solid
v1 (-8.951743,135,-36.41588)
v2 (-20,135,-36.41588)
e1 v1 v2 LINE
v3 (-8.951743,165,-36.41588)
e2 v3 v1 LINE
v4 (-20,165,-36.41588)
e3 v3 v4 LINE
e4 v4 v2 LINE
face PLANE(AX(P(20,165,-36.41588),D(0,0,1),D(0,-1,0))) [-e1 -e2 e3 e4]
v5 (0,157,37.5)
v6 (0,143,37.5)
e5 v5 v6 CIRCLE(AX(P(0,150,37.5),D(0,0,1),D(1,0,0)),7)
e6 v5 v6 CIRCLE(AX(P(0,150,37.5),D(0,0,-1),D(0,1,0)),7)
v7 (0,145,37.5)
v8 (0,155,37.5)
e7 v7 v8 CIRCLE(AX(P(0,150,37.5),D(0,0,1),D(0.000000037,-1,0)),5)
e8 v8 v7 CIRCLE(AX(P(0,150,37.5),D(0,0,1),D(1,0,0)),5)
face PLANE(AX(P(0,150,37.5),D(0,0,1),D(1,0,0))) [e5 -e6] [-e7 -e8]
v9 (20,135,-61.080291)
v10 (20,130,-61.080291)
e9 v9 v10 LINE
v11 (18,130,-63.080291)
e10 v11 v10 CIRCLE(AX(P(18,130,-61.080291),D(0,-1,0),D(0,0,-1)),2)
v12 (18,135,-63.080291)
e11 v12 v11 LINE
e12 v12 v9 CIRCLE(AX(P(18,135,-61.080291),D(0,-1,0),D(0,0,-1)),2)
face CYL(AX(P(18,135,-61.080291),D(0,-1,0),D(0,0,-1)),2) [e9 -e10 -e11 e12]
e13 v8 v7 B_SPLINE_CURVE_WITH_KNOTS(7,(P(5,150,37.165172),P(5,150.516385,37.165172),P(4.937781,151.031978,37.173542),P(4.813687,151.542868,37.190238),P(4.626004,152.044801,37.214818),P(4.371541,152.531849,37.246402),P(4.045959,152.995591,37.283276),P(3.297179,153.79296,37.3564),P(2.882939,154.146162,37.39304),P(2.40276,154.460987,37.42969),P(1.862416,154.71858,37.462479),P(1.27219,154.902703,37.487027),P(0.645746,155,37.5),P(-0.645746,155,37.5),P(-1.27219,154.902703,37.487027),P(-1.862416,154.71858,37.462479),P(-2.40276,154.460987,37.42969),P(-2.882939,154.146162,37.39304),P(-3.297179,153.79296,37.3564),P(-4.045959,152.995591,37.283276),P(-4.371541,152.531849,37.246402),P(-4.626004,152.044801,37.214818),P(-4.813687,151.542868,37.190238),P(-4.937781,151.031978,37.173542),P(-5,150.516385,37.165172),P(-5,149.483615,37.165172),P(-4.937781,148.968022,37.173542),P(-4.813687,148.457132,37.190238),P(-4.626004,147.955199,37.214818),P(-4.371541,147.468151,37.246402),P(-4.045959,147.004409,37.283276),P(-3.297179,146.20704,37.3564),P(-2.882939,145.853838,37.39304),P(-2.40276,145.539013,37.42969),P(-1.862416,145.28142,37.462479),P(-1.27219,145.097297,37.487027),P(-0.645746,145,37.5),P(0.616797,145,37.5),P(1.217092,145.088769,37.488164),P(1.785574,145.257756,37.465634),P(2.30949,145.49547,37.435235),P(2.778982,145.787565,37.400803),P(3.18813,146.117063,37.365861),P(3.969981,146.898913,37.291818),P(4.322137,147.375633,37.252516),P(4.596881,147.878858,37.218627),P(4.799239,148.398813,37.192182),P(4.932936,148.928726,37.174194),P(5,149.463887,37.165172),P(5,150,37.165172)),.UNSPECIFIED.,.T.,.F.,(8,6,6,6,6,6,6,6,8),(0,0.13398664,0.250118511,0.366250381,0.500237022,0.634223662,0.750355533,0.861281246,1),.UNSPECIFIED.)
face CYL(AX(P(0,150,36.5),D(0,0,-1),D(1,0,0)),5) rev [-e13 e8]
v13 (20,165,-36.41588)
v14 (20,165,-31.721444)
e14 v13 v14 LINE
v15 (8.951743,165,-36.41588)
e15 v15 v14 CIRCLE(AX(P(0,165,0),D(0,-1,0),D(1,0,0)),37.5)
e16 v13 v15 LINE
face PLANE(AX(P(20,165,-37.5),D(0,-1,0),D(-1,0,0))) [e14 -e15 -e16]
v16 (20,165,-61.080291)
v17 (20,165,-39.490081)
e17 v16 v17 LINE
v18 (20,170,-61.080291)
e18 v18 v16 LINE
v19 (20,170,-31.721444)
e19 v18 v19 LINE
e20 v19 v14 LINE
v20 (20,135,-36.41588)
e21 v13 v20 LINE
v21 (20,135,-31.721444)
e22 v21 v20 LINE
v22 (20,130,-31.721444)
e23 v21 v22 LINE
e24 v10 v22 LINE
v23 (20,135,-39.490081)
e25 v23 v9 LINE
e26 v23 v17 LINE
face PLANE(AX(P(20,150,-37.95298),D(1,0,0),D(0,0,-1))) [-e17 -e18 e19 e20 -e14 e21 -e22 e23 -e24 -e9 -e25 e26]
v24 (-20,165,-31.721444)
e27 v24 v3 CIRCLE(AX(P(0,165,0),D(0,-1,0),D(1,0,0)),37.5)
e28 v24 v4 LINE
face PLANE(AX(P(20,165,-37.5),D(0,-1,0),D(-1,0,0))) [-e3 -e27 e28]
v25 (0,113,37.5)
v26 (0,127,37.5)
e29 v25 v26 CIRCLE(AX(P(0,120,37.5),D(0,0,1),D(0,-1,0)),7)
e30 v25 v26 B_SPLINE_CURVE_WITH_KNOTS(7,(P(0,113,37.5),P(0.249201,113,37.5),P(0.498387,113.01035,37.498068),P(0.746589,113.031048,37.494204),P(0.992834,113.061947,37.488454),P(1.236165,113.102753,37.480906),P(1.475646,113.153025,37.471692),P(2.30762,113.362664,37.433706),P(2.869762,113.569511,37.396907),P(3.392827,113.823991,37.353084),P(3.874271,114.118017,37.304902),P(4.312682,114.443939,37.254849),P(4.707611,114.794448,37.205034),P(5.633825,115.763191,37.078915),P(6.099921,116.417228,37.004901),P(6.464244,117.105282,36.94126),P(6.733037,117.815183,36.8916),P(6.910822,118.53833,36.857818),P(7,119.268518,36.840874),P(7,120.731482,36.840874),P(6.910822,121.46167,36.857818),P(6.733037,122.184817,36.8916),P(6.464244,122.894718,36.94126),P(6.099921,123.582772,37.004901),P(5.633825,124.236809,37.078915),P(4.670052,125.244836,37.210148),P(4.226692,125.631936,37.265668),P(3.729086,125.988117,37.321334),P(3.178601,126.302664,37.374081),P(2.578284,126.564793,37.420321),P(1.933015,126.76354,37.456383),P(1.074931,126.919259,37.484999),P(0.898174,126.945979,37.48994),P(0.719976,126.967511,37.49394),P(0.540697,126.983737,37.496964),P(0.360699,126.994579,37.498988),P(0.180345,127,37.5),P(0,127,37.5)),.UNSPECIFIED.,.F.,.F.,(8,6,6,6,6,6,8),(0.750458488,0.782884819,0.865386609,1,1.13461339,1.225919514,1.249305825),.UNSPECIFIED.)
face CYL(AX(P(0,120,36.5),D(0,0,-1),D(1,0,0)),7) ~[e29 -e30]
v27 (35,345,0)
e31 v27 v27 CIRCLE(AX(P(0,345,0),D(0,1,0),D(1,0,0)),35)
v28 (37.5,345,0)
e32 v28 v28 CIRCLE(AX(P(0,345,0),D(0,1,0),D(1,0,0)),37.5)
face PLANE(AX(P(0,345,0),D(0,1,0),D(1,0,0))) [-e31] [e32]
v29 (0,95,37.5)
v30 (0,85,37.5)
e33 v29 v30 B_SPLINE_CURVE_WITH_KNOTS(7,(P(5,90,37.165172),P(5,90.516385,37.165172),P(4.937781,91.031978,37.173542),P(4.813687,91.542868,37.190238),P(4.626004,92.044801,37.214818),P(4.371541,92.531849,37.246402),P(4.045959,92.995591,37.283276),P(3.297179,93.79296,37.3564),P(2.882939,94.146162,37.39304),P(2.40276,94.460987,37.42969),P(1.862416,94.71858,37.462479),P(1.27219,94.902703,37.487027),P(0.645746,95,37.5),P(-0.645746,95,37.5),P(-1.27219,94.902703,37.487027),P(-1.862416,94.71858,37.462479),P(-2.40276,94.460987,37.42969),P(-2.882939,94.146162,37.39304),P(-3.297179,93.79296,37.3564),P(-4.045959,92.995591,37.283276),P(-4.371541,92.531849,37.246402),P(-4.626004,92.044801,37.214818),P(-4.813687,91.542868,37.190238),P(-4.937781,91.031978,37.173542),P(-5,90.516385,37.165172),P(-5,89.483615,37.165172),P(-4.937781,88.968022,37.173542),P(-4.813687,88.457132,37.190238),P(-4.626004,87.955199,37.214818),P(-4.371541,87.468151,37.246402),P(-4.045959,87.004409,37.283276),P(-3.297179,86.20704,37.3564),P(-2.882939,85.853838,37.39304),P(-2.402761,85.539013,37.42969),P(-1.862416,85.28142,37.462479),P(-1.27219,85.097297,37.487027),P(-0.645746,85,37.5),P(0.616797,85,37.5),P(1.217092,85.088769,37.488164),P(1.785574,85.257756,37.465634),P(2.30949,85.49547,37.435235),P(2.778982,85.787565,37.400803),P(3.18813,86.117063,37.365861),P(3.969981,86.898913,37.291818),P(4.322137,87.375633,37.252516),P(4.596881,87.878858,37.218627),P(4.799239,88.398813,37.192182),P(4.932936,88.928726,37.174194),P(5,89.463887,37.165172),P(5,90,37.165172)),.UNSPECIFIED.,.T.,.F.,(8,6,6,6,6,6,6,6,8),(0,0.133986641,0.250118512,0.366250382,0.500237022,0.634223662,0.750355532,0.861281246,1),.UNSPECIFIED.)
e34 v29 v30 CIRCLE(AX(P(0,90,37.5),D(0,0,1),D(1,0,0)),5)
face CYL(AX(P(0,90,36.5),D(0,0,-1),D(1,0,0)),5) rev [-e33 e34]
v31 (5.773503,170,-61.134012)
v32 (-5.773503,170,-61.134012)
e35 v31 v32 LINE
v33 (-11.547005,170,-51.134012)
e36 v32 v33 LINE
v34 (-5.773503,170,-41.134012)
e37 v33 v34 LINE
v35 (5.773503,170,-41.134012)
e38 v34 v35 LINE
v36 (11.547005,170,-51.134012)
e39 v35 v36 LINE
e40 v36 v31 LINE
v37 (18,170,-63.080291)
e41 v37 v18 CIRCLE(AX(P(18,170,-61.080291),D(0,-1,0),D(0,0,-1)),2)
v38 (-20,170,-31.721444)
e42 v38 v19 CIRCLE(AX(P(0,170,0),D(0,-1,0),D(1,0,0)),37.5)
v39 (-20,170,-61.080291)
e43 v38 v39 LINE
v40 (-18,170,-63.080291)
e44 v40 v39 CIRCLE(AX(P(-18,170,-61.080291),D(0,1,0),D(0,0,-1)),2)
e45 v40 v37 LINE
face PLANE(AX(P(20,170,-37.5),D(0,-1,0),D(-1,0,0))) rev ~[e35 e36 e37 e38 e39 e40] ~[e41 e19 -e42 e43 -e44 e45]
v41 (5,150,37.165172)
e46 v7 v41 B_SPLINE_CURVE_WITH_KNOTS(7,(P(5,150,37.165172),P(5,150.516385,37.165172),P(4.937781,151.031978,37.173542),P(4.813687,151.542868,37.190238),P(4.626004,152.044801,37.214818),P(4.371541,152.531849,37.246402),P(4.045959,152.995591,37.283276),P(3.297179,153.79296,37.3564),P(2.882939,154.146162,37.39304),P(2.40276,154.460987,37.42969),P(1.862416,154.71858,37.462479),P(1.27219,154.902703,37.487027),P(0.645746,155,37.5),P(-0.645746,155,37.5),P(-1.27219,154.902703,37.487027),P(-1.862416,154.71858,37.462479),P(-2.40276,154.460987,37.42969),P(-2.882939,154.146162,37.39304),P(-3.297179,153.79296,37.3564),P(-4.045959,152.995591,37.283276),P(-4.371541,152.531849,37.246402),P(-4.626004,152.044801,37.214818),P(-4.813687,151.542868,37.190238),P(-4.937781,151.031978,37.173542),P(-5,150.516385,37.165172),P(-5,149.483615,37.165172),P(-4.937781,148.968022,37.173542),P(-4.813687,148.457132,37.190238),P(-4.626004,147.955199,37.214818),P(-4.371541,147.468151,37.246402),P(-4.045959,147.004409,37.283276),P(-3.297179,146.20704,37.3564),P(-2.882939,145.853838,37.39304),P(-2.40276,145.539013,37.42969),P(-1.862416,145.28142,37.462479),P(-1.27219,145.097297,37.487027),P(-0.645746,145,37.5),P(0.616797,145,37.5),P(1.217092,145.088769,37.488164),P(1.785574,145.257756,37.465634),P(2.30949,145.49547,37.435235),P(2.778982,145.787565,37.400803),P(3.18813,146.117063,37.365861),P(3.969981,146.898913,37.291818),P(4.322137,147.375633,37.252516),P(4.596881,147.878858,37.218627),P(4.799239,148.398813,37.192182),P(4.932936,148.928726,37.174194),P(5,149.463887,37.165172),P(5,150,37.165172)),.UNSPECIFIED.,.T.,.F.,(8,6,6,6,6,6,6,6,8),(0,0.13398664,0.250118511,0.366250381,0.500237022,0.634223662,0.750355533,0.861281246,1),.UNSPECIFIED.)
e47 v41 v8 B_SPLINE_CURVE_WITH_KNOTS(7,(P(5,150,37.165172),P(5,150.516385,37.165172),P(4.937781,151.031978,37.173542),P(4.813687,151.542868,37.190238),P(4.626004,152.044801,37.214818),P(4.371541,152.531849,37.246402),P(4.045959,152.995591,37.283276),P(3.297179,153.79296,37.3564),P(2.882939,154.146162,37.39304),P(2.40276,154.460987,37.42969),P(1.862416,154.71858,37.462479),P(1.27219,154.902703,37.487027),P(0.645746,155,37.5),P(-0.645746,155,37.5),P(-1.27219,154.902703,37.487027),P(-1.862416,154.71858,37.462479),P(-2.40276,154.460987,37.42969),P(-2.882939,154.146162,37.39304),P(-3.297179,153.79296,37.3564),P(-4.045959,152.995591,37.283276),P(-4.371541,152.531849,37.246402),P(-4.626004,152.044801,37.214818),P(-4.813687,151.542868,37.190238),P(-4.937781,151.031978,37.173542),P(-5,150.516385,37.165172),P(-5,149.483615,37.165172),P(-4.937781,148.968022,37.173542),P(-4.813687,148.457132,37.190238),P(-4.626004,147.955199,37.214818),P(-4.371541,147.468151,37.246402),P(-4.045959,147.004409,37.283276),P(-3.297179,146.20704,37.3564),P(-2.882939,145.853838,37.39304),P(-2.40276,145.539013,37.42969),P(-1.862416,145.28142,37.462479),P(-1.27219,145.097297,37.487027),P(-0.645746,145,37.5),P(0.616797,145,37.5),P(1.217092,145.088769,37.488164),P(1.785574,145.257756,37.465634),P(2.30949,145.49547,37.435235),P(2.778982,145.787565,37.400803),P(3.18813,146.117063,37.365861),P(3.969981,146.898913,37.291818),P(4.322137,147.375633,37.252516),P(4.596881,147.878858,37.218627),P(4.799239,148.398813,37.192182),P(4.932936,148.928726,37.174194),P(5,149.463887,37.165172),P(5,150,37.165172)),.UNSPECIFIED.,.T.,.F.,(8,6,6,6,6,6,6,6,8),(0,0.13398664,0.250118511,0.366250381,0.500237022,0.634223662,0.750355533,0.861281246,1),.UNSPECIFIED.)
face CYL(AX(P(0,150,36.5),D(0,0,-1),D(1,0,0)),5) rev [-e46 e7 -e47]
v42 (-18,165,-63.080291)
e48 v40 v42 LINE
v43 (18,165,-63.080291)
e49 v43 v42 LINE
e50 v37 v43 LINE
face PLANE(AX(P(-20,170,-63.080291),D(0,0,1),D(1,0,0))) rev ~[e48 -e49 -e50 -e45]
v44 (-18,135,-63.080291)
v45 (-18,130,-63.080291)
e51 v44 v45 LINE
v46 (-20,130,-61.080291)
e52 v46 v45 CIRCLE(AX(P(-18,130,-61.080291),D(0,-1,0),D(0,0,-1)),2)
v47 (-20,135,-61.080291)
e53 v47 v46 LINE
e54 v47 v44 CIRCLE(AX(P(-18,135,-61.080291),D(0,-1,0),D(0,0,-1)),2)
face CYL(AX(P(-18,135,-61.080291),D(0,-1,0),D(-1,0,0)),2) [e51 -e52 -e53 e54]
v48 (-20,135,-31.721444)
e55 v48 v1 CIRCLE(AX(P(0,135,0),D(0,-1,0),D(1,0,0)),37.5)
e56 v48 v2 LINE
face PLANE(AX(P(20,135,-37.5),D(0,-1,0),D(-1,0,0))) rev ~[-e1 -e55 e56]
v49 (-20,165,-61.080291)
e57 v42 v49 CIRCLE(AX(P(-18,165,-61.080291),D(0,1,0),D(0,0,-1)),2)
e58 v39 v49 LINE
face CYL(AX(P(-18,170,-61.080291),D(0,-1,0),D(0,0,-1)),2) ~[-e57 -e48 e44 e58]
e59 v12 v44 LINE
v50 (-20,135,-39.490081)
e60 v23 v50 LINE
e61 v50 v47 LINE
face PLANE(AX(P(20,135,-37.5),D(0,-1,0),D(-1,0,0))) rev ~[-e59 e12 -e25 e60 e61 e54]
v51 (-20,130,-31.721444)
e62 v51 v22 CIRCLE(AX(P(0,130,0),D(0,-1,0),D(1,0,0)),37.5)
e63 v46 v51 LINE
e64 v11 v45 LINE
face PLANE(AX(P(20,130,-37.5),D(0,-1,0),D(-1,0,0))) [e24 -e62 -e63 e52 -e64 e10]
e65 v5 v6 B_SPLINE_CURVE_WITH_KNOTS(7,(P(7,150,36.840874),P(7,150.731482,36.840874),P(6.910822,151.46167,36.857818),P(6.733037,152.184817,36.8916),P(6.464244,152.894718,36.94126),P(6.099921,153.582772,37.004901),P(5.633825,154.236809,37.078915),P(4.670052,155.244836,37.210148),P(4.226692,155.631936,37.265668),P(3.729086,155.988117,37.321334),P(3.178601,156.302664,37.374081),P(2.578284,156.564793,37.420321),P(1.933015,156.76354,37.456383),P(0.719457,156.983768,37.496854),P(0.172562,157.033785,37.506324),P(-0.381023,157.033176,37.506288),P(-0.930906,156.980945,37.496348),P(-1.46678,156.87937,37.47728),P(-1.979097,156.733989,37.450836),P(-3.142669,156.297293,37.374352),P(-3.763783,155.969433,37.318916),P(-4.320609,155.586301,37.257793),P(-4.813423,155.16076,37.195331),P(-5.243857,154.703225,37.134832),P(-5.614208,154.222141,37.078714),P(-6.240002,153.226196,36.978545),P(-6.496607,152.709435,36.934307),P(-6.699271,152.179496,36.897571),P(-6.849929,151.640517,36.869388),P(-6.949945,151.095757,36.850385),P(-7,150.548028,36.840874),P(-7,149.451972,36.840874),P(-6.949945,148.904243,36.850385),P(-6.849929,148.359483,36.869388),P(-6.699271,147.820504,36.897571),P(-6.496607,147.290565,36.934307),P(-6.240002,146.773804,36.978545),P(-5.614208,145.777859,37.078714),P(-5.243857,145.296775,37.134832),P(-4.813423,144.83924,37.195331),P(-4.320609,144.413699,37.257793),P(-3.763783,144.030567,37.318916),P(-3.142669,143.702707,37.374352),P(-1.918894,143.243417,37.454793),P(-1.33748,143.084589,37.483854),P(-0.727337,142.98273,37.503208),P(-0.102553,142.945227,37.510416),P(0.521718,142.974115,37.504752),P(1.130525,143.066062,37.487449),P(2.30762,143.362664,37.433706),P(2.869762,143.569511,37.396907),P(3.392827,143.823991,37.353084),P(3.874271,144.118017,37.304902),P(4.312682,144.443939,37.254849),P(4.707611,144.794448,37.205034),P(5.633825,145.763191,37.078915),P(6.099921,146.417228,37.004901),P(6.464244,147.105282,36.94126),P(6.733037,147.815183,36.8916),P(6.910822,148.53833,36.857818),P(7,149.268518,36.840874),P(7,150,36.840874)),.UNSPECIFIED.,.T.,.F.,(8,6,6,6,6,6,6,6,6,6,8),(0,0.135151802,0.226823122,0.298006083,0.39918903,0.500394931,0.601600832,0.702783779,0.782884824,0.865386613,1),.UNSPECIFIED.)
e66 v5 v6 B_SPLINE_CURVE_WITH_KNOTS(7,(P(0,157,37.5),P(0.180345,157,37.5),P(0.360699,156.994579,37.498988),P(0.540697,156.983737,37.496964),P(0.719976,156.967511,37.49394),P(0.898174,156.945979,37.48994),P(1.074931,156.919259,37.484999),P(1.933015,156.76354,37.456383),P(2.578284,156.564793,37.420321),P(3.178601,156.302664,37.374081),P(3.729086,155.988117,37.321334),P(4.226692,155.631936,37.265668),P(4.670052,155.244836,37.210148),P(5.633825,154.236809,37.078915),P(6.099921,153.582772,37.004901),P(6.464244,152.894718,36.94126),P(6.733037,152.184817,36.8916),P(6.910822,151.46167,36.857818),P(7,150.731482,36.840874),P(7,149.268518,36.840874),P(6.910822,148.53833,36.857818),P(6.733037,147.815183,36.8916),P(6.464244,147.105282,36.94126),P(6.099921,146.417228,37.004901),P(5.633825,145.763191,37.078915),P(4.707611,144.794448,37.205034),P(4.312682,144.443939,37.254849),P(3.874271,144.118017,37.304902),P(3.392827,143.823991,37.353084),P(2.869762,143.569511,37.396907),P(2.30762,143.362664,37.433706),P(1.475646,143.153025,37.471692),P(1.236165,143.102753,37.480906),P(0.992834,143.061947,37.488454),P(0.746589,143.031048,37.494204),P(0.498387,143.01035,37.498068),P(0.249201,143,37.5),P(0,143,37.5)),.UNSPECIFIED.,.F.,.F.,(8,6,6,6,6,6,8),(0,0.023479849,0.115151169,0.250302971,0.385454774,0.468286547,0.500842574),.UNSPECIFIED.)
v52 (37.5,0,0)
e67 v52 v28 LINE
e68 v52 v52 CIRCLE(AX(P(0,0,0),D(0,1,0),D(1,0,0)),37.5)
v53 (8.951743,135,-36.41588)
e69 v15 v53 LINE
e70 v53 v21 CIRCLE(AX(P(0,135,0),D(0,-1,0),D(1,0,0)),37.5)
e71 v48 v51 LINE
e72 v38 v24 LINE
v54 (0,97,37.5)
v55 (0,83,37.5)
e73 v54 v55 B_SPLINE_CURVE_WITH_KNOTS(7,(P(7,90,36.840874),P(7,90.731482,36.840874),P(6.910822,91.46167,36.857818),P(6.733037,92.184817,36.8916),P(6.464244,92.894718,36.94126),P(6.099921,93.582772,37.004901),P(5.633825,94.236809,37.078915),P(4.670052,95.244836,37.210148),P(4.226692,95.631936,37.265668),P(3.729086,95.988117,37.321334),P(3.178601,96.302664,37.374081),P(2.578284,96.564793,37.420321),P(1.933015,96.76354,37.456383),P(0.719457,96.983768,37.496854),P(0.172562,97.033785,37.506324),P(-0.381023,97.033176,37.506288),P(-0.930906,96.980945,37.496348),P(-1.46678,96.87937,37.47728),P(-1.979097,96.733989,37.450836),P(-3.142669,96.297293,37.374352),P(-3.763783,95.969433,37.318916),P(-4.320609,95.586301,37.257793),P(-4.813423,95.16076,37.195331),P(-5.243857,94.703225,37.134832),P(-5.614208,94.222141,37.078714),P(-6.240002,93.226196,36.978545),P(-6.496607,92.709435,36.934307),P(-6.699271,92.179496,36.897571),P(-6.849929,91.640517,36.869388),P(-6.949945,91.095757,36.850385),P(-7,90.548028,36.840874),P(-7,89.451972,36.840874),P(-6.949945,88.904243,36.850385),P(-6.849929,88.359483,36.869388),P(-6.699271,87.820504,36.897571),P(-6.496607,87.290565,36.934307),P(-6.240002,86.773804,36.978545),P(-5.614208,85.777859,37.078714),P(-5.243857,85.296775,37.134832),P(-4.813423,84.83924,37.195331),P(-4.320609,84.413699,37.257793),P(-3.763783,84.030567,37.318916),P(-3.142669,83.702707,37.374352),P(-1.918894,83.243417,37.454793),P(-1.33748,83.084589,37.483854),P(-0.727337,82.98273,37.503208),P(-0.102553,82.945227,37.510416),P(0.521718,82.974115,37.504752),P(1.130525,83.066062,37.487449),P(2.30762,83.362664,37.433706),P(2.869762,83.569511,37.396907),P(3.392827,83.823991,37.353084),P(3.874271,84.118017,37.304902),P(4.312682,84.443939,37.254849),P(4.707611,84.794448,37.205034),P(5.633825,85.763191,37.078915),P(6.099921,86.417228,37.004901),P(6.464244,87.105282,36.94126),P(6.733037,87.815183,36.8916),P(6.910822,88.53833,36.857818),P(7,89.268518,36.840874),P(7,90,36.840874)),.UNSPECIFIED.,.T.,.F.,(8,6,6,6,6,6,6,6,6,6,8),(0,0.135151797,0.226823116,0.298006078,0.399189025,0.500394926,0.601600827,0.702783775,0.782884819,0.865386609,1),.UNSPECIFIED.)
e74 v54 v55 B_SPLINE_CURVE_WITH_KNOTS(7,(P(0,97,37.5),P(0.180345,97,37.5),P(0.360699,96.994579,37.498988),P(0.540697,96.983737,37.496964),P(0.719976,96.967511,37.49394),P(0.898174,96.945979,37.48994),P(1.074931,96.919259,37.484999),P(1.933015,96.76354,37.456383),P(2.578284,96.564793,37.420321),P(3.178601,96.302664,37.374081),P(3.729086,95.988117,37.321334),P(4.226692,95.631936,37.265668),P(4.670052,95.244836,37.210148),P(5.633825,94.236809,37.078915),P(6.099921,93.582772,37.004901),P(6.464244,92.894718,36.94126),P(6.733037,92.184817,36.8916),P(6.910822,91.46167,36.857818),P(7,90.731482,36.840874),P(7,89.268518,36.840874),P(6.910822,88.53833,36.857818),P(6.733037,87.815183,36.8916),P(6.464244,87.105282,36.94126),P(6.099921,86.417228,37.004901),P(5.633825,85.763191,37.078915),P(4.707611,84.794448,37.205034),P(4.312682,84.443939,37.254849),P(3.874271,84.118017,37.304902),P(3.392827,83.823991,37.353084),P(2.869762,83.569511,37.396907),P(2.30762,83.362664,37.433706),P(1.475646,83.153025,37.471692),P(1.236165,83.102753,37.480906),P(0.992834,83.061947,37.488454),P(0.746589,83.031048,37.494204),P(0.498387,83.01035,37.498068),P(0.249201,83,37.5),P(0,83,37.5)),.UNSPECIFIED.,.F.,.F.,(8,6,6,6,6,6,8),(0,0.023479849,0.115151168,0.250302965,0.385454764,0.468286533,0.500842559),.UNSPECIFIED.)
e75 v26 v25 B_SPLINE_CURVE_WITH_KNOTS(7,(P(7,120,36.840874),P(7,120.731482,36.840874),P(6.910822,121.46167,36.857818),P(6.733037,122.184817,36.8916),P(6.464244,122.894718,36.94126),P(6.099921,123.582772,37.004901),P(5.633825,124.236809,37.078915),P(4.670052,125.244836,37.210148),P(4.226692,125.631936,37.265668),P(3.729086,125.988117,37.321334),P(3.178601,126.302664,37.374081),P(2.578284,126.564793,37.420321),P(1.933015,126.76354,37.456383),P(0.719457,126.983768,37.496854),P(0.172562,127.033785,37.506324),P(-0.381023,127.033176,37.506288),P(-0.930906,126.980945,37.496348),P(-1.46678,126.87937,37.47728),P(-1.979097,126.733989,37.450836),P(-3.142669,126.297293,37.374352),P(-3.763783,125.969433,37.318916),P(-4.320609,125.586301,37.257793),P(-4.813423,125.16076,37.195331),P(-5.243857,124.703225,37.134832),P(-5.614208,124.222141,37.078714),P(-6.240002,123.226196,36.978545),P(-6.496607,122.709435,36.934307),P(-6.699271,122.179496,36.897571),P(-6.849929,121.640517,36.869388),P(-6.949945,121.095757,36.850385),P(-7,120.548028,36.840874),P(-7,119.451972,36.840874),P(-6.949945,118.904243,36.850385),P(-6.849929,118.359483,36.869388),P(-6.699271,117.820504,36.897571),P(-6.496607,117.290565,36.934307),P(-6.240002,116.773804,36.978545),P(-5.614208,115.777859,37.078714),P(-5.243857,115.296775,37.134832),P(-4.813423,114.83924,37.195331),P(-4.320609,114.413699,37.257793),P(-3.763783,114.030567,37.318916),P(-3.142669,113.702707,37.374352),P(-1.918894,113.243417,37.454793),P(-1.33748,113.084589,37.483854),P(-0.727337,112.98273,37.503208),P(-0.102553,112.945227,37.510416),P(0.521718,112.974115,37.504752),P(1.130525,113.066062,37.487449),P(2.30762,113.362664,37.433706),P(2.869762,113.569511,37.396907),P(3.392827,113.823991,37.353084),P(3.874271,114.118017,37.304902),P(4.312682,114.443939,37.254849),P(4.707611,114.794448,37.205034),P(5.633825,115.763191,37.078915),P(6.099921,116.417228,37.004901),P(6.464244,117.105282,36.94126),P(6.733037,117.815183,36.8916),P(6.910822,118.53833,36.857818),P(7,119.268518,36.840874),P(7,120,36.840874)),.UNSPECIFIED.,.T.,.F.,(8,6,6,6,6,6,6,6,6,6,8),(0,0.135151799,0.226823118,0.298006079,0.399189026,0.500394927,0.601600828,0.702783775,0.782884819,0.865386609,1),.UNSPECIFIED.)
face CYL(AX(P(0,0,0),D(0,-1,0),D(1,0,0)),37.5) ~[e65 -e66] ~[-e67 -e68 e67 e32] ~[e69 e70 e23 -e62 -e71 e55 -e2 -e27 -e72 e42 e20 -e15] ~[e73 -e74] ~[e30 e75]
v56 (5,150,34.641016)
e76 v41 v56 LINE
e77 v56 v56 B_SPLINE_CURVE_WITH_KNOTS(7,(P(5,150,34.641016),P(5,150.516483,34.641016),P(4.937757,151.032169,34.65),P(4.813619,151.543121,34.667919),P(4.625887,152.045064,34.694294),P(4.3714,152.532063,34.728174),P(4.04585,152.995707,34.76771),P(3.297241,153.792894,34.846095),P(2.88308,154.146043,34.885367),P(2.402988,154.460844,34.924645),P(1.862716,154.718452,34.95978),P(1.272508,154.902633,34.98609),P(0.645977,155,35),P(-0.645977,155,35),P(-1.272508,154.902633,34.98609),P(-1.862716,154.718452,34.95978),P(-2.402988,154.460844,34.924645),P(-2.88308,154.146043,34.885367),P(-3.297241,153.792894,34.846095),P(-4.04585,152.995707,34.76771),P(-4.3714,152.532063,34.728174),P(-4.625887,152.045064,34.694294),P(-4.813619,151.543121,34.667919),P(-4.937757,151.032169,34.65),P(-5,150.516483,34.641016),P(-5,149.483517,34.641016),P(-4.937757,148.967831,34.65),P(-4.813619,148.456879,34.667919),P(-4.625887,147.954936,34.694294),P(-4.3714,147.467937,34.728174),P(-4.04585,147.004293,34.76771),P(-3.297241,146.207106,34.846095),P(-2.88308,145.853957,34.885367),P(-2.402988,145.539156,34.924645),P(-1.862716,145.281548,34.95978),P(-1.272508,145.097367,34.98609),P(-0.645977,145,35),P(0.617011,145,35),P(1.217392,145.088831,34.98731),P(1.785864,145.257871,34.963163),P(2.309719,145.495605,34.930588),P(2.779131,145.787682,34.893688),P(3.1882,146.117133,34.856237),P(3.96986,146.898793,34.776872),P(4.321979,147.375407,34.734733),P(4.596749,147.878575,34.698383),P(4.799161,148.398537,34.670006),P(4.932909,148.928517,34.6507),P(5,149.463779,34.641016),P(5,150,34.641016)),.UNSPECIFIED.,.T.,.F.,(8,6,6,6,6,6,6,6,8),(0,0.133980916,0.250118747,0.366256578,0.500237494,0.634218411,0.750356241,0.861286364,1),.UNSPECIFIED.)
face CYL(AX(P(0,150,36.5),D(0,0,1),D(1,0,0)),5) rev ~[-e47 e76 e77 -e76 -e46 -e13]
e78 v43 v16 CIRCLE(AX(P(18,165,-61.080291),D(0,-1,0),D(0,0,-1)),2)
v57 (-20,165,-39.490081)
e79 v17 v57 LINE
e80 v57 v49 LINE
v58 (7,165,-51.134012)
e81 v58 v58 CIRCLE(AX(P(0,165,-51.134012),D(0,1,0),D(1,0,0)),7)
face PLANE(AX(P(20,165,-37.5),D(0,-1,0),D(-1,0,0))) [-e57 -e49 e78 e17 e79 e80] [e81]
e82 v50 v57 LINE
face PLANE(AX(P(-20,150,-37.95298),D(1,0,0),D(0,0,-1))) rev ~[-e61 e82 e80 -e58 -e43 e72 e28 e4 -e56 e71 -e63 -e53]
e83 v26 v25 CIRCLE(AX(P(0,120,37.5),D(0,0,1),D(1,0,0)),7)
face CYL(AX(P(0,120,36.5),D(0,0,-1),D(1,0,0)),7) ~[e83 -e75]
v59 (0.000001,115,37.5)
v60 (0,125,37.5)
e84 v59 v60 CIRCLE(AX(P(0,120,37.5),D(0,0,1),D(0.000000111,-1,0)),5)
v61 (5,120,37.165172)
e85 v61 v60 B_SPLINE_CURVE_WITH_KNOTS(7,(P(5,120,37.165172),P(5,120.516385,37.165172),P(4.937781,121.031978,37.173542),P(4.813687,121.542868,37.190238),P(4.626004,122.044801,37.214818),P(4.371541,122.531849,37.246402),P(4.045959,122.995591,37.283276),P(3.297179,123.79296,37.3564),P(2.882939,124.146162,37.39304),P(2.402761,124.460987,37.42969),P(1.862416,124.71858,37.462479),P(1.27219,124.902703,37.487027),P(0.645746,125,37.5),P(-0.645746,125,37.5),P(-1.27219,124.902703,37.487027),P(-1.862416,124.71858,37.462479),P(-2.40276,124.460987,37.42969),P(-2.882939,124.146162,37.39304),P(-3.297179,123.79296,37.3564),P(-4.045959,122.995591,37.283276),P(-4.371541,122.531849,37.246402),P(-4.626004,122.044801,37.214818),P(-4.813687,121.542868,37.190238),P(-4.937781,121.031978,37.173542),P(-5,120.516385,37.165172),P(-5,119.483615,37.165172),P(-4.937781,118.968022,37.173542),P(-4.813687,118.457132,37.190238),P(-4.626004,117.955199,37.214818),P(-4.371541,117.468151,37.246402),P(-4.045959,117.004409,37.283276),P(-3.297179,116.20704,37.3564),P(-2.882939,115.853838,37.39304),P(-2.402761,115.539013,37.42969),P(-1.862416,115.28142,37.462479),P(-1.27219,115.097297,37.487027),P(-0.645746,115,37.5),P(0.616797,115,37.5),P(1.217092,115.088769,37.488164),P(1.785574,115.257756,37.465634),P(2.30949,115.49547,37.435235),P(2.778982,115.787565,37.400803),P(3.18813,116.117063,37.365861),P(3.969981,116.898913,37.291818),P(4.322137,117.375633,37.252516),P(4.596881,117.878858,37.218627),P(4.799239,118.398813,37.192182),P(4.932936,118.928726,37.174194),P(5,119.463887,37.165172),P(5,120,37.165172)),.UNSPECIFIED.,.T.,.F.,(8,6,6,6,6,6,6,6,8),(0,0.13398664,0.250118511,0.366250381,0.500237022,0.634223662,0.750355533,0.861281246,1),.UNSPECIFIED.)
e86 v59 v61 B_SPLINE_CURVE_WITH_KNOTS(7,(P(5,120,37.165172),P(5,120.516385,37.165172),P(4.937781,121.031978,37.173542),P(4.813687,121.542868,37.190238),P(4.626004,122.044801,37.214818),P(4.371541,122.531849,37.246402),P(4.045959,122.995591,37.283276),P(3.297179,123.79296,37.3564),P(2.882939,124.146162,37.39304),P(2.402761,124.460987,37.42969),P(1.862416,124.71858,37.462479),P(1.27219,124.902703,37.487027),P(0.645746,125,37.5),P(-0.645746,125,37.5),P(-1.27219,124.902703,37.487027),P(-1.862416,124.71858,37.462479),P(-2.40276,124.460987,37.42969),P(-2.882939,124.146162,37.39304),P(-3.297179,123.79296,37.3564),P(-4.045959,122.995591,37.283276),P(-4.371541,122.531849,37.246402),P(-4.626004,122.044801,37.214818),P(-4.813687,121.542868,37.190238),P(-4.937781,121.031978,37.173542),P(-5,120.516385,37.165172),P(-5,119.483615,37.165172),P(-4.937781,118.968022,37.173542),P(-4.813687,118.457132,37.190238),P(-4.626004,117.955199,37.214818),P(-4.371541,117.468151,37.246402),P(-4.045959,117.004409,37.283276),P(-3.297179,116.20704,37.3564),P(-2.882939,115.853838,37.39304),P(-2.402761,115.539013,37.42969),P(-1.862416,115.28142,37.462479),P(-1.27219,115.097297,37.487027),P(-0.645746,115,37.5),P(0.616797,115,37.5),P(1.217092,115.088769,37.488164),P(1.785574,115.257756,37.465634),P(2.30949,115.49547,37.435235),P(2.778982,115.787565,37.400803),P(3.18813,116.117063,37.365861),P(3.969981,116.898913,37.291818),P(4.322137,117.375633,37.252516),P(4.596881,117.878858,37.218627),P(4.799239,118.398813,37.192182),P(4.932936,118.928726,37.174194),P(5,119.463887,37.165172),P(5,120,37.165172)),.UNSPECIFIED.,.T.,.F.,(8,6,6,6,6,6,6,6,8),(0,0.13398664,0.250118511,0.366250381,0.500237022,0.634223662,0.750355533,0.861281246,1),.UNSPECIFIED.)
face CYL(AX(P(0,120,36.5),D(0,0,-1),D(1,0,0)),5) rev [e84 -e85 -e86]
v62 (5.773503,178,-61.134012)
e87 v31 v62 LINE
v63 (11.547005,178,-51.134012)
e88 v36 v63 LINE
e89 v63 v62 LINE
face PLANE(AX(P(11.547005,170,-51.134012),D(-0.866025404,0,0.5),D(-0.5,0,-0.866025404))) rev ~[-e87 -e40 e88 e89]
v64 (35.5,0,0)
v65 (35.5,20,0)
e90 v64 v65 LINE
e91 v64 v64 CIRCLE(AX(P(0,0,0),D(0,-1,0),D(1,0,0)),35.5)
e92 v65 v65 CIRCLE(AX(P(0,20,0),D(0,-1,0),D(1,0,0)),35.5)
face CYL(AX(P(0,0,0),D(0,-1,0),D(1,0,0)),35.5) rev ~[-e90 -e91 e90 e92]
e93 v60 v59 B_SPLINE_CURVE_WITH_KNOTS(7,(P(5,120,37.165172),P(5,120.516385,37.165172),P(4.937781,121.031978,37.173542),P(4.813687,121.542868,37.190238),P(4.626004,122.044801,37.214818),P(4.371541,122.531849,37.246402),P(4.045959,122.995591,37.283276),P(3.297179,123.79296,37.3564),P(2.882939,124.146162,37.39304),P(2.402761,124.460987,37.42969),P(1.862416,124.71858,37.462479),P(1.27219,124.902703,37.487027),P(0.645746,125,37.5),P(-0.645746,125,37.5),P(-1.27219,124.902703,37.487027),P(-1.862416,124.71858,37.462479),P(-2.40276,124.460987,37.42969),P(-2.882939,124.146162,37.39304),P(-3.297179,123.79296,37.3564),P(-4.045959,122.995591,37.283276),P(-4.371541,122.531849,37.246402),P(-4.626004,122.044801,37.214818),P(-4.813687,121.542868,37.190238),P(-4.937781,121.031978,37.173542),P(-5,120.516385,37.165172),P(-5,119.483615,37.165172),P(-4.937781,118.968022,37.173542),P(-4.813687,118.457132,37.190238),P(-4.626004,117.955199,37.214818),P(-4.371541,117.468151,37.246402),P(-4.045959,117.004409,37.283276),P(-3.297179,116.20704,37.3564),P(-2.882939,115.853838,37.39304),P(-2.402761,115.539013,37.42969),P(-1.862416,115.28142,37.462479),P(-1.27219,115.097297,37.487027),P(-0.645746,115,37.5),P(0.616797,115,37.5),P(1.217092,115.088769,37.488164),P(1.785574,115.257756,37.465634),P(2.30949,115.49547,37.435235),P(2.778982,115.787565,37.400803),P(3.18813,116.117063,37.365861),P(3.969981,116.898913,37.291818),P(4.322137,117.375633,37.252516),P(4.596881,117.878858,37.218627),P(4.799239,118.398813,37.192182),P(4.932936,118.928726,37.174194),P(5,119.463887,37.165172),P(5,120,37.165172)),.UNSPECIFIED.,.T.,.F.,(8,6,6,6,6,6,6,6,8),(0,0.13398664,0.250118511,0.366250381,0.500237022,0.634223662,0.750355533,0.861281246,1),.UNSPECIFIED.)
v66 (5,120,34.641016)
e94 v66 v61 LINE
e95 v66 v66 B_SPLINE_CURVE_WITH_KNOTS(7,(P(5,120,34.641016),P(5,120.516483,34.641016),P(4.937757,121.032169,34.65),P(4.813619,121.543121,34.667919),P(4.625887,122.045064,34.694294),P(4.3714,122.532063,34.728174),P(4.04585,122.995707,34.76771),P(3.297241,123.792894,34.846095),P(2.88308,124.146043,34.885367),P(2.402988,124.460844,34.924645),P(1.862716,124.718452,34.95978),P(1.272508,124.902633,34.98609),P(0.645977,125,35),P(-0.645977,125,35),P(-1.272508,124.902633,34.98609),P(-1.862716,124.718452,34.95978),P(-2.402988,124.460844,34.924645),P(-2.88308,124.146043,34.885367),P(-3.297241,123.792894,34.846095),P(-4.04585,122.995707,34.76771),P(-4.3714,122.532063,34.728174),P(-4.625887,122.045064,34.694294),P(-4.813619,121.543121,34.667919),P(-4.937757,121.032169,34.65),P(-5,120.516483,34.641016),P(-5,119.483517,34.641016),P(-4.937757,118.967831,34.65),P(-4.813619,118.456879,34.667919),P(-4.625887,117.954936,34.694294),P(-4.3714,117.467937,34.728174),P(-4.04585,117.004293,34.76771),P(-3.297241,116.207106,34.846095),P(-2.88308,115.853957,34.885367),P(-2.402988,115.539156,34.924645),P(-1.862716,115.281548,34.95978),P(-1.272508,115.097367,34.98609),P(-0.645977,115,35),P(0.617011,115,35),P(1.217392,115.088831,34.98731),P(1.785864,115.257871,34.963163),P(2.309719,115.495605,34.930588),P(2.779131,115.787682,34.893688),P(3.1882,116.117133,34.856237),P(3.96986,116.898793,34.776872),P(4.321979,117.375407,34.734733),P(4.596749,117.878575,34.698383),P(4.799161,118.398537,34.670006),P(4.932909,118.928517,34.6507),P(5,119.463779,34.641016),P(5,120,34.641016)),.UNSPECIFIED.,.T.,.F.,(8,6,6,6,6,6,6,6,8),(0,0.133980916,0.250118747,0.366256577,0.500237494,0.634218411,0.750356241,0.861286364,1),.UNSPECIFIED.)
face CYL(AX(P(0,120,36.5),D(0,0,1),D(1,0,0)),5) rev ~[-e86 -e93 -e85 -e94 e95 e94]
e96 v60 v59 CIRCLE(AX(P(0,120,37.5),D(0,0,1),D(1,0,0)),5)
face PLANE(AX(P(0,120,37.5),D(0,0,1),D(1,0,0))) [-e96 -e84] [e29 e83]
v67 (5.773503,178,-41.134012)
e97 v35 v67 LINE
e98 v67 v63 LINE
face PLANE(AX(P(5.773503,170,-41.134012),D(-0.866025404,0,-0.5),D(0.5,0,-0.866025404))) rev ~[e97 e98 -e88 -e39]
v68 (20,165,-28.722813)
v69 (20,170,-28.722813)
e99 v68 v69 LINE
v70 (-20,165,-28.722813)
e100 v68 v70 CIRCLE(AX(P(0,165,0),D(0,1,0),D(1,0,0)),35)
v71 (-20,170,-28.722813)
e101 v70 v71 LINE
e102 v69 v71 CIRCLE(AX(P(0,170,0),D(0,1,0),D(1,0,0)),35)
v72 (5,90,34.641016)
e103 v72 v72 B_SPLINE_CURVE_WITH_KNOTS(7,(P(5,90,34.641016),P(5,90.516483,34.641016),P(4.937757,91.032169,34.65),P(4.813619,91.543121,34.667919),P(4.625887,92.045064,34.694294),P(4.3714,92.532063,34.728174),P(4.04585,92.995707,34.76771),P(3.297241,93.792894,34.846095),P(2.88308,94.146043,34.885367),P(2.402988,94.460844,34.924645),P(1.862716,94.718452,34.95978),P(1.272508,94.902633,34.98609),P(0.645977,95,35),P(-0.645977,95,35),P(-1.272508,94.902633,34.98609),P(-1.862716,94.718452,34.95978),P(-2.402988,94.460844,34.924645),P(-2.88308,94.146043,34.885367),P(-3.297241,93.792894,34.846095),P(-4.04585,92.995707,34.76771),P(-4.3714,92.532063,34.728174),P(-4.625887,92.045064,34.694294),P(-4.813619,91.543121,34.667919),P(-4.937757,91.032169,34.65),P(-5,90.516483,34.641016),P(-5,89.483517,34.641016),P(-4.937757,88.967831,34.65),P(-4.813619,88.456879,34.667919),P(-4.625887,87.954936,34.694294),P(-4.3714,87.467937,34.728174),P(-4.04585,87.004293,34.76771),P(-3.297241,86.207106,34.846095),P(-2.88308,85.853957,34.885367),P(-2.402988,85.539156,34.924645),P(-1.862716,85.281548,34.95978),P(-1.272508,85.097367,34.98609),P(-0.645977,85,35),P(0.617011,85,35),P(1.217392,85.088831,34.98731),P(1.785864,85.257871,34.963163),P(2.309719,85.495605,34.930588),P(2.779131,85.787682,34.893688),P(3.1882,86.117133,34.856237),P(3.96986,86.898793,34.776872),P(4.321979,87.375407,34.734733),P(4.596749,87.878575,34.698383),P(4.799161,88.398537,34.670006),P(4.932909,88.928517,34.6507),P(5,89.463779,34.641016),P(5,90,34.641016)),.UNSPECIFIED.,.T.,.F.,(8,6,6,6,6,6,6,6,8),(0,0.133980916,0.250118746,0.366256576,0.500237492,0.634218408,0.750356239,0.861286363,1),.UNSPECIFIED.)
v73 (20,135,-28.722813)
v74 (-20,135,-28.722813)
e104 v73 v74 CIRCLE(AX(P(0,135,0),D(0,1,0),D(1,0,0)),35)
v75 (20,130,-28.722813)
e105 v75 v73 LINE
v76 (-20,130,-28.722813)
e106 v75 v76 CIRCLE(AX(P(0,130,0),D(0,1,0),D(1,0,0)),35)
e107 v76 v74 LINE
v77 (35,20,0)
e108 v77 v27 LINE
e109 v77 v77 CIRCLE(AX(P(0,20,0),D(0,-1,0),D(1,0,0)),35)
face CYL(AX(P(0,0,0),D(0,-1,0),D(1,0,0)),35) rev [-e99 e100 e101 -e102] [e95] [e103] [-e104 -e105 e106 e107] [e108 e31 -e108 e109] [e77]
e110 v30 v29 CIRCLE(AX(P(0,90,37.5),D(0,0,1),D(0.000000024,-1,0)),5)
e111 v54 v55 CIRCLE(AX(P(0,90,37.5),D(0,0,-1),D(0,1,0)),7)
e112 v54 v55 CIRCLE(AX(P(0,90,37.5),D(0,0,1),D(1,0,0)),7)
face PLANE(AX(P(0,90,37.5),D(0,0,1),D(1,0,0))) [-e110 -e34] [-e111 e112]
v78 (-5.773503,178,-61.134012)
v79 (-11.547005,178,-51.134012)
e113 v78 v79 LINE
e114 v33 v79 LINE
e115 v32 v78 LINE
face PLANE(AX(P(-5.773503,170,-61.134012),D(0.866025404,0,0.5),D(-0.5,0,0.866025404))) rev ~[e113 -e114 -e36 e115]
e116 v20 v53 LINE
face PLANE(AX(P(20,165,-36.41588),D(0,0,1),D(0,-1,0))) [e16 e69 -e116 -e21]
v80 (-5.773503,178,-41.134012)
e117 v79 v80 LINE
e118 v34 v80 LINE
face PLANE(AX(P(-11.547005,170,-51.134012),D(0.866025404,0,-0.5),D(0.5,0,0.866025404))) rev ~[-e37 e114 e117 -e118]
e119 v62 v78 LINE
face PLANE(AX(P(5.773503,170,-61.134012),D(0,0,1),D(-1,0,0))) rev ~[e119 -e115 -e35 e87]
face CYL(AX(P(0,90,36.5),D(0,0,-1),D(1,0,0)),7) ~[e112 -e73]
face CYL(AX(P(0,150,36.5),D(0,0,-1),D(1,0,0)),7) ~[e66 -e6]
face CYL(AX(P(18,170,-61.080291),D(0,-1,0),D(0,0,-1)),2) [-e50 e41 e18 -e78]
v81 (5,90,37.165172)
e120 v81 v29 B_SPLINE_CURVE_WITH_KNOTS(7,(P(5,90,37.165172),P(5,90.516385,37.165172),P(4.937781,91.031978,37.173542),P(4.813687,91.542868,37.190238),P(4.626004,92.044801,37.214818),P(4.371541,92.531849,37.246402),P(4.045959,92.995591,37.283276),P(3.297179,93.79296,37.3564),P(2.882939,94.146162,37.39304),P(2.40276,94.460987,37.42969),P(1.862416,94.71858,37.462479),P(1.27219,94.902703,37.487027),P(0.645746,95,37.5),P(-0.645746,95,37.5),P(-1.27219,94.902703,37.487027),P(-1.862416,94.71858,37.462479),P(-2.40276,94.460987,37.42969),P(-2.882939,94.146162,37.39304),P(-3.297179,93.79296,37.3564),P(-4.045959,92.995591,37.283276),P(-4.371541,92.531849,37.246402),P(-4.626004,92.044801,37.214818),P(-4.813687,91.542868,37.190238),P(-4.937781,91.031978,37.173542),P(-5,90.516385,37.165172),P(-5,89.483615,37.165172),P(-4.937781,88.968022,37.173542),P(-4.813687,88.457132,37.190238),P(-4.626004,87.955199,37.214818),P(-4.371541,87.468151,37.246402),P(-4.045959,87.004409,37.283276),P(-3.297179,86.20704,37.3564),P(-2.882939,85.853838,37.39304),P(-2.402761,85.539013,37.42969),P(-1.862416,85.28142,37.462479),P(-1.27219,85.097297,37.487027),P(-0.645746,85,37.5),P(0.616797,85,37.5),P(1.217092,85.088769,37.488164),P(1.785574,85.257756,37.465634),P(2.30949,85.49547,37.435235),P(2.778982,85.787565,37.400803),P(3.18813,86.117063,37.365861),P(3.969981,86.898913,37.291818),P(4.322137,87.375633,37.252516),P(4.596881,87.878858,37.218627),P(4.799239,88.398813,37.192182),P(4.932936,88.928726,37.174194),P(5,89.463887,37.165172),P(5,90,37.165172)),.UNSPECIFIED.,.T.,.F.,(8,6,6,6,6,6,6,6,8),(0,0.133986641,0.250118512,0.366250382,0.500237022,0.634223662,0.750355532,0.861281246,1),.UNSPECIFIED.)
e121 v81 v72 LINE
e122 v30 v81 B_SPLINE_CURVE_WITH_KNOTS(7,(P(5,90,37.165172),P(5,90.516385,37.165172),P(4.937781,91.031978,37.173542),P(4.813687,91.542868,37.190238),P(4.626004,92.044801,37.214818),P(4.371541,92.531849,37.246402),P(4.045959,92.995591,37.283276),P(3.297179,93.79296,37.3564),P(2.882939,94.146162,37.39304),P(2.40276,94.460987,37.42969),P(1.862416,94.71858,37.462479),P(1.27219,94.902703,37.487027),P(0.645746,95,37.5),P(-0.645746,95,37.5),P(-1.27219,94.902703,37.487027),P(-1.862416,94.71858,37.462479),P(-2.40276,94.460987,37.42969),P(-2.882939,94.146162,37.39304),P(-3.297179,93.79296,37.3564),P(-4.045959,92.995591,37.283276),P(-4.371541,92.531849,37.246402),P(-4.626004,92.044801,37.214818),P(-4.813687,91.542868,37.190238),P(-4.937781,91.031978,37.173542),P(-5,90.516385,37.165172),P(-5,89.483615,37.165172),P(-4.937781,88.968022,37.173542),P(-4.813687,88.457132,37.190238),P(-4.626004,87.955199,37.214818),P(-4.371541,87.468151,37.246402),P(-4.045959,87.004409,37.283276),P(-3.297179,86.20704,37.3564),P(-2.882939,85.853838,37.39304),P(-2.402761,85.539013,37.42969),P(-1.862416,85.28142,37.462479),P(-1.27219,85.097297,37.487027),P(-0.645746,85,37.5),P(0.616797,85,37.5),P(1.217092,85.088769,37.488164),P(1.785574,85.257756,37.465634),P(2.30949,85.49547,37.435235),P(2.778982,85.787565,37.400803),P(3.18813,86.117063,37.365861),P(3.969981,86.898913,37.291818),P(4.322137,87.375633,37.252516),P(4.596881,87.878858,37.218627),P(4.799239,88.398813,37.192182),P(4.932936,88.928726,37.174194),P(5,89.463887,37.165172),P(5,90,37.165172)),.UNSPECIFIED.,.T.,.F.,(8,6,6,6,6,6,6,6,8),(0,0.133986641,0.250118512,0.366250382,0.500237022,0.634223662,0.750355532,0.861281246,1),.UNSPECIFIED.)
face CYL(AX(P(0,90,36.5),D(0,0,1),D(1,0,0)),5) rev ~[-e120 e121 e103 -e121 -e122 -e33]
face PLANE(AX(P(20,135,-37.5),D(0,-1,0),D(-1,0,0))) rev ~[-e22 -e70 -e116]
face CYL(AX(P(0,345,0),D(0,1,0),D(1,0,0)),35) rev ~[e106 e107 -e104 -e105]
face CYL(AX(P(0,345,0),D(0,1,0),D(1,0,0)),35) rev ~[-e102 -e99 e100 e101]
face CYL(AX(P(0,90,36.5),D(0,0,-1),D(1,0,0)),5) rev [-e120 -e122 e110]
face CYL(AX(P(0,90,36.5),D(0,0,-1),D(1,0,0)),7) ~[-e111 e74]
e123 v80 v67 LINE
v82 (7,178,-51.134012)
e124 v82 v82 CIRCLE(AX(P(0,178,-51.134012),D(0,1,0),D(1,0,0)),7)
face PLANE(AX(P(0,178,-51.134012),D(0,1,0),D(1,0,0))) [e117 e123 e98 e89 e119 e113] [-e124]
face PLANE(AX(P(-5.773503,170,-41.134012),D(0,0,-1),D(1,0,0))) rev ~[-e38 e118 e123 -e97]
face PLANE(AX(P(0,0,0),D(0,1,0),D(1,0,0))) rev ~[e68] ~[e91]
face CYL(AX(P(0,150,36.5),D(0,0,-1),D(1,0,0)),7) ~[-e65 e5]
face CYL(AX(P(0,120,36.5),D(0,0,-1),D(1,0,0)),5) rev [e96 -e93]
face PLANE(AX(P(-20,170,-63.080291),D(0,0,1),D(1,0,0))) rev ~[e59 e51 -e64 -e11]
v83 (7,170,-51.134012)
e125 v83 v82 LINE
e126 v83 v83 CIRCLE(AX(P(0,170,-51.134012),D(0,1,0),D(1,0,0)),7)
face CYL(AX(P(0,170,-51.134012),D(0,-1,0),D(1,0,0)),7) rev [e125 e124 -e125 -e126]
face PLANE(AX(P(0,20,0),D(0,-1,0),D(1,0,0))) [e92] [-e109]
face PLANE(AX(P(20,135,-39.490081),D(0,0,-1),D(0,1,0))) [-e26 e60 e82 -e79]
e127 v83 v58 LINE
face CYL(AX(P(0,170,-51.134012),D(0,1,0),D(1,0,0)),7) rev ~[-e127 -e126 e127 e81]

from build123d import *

# Parameters (mm, degrees)
SKETCH1_R                  = 37.5
SKETCH1_R_2                = 35
BOSS_EXTRUDE1_DEPTH        = 345
SKETCH2_R                  = 35.5
SKETCH2_R_2                = 33.5
CUT_EXTRUDE1_DEPTH         = 20
SKETCH3_R                  = 5
CUT_EXTRUDE2_DEPTH         = 10
CUT_EXTRUDE2_DEPTH_BACK    = 30
SKETCH5_R                  = 7
SKETCH5_R_2                = 5
BOSS_EXTRUDE3_DEPTH        = 1
BOSS_EXTRUDE3_2_DEPTH      = 1
SKETCH6_R                  = 7
SKETCH6_R_2                = 5
BOSS_EXTRUDE5_DEPTH        = 1
BOSS_EXTRUDE7_DEPTH        = 50
BOSS_EXTRUDE7_DEPTH_BACK   = 10
BOSS_EXTRUDE7_2_DEPTH      = 50
BOSS_EXTRUDE7_2_DEPTH_BACK = 10
SKETCH13_R                 = 7
SKETCH13_W                 = 40
SKETCH13_H                 = 24.419709383
CUT_EXTRUDE7_DEPTH         = 21
SKETCH14_R                 = 35
CUT_EXTRUDE8_DEPTH         = 346.0000001
SKETCH15_R                 = 7
BOSS_EXTRUDE8_DEPTH        = 8
SKETCH16_W                 = 40
SKETCH16_H                 = 24.419709383
CUT_EXTRUDE11_DEPTH        = 97
FILLET1_R                  = 2
FILLET2_R                  = 2
BOSS_EXTRUDE12_DEPTH       = 40


with BuildPart() as part:
    # Sketch1 → Boss-Extrude1 (new body)
    with BuildSketch(Plane(origin=(0, 0, 0), x_dir=(1, 0, 0), z_dir=(0, 1, 0))):
        Circle(SKETCH1_R)
        Circle(SKETCH1_R_2, mode=Mode.SUBTRACT)
    extrude(amount=BOSS_EXTRUDE1_DEPTH)

    # Sketch2 → Cut-Extrude1 (cut)
    with BuildSketch(Plane.XZ):
        Circle(SKETCH2_R)
        Circle(SKETCH2_R_2, mode=Mode.SUBTRACT)
    extrude(amount=-CUT_EXTRUDE1_DEPTH, mode=Mode.SUBTRACT)

    # Sketch3 → Cut-Extrude2 (cut, two sides)
    with BuildSketch(Plane.XY.offset(36.5)) as cut_extrude2_sk:
        with Locations((0, 120)):
            Circle(SKETCH3_R)
        with Locations((0, 90)):
            Circle(SKETCH3_R)
        with Locations((0, 150)):
            Circle(SKETCH3_R)
    extrude(amount=CUT_EXTRUDE2_DEPTH, mode=Mode.SUBTRACT)
    extrude(cut_extrude2_sk.sketch, amount=-CUT_EXTRUDE2_DEPTH_BACK, mode=Mode.SUBTRACT)



with BuildPart() as body_2:
    # Sketch5 → Boss-Extrude3 (new body)
    with BuildSketch(Plane.XY.offset(36.5)):
        with Locations((0, 120)):
            Circle(SKETCH5_R)
        with Locations((0, 120)):
            Circle(SKETCH5_R_2, mode=Mode.SUBTRACT)
    extrude(amount=-BOSS_EXTRUDE3_DEPTH)


with BuildPart() as body_3:
    # Sketch5 → Boss-Extrude3 2 (new body)
    with BuildSketch(Plane.XY.offset(36.5)):
        with Locations((0, 90)):
            Circle(SKETCH5_R)
        with Locations((0, 90)):
            Circle(SKETCH5_R_2, mode=Mode.SUBTRACT)
    extrude(amount=-BOSS_EXTRUDE3_2_DEPTH)


with BuildPart() as part_1:
    add(part.part)

    add(body_2.part)  # Boss-Extrude5 merges body 2

    add(body_3.part)  # Boss-Extrude5 merges body 3
    # Sketch6 → Boss-Extrude5 (add)
    with BuildSketch(Plane.XY.offset(36.5)):
        with Locations((0, 120)):
            Circle(SKETCH6_R)
        with Locations((0, 120)):
            Circle(SKETCH6_R_2, mode=Mode.SUBTRACT)
        with Locations((0, 150)):
            Circle(SKETCH6_R)
        with Locations((0, 150)):
            Circle(SKETCH6_R_2, mode=Mode.SUBTRACT)
        with Locations((0, 90)):
            Circle(SKETCH6_R)
        with Locations((0, 90)):
            Circle(SKETCH6_R_2, mode=Mode.SUBTRACT)
    extrude(amount=BOSS_EXTRUDE5_DEPTH)



with BuildPart() as body_2_2:
    # Sketch12 → Boss-Extrude7 (new body, two sides)
    with BuildSketch(Plane(origin=(0, 0, -37.5), x_dir=(-1, 0, 0), z_dir=(0, 0, -1))) as boss_extrude7_sk:
        Polygon((20, 165), (0, 165), (-20, 165), (-20, 170), (20, 170), align=None)
    extrude(amount=BOSS_EXTRUDE7_DEPTH)
    extrude(boss_extrude7_sk.sketch, amount=-BOSS_EXTRUDE7_DEPTH_BACK)

    # Sketch13 → Cut-Extrude7 (cut)
    with BuildSketch(Plane(origin=(0, 170, 0), x_dir=(1, 0, 0), z_dir=(0, 1, 0))):
        with Locations((0, 51.13401188)):
            Circle(SKETCH13_R)
        with Locations((0, 75.290145309)):
            Rectangle(SKETCH13_W, SKETCH13_H)
    extrude(amount=-CUT_EXTRUDE7_DEPTH, mode=Mode.SUBTRACT)


with BuildPart() as body_3_2:
    # Sketch12 → Boss-Extrude7 2 (new body, two sides)
    with BuildSketch(Plane(origin=(0, 0, -37.5), x_dir=(-1, 0, 0), z_dir=(0, 0, -1))) as boss_extrude7_2_sk:
        Polygon((20, 135), (20, 130), (0, 130), (-20, 130), (-20, 135), align=None)
    extrude(amount=BOSS_EXTRUDE7_2_DEPTH)
    extrude(boss_extrude7_2_sk.sketch, amount=-BOSS_EXTRUDE7_2_DEPTH_BACK)


with BuildPart() as cut_extrude8_tool:
    # Sketch14 → Cut-Extrude8 (new body, through all)
    with BuildSketch(Plane(origin=(0, 345, 0), x_dir=(1, 0, 0), z_dir=(0, 1, 0))):
        Circle(SKETCH14_R)
    extrude(amount=-CUT_EXTRUDE8_DEPTH)


with BuildPart() as body_2_2_1:
    add(body_2_2.part)

    # Cut-Extrude8: cut by cut_extrude8_tool
    add(cut_extrude8_tool.part, mode=Mode.SUBTRACT)

    # Sketch15 → Boss-Extrude8 (add)
    with BuildSketch(Plane(origin=(0, 170, 0), x_dir=(1, 0, 0), z_dir=(0, 1, 0))):
        Polygon((11.547005384, 51.13401188), (5.773502692, 61.13401188), (-5.773502692, 61.13401188), (-11.547005384, 51.13401188), (-5.773502692, 41.13401188), (5.773502692, 41.13401188), align=None)
        with Locations((0, 51.13401188)):
            Circle(SKETCH15_R, mode=Mode.SUBTRACT)
    extrude(amount=BOSS_EXTRUDE8_DEPTH)

    # Fillet1
    fillet1_edges = [body_2_2_1.edges().sort_by_distance(p)[0] for p in [
        (20, 167.5, -63.080290617),
        (-20, 167.5, -63.080290617),
    ]]
    fillet(fillet1_edges, radius=FILLET1_R)


with BuildPart() as body_3_2_1:
    add(body_3_2.part)

    # Cut-Extrude8: cut by cut_extrude8_tool
    add(cut_extrude8_tool.part, mode=Mode.SUBTRACT)

    # Sketch16 → Cut-Extrude11 (cut)
    with BuildSketch(Plane(origin=(0, 170, 0), x_dir=(1, 0, 0), z_dir=(0, 1, 0))):
        with Locations((0, 75.290145309)):
            Rectangle(SKETCH16_W, SKETCH16_H)
    extrude(amount=-CUT_EXTRUDE11_DEPTH, mode=Mode.SUBTRACT)

    # Fillet2
    fillet2_edges = [body_3_2_1.edges().sort_by_distance(p)[0] for p in [
        (20, 132.5, -63.080290617),
        (-20, 132.5, -63.080290617),
    ]]
    fillet(fillet2_edges, radius=FILLET2_R)


with BuildPart() as part_2:
    add(part_1.part)

    add(body_2_2_1.part)  # Boss-Extrude12 merges body 2 2

    add(body_3_2_1.part)  # Boss-Extrude12 merges body 3 2
    # Sketch18 → Boss-Extrude12 (add)
    with BuildSketch(Plane(origin=(20, 0, 0), x_dir=(0, 0, -1), z_dir=(1, 0, 0))):
        Polygon((39.490080652, 165), (37.410474121, 165), (36.415879692, 165), (36.415879692, 135), (39.490080652, 135), align=None)
    extrude(amount=-BOSS_EXTRUDE12_DEPTH)


solid = part_2.part
